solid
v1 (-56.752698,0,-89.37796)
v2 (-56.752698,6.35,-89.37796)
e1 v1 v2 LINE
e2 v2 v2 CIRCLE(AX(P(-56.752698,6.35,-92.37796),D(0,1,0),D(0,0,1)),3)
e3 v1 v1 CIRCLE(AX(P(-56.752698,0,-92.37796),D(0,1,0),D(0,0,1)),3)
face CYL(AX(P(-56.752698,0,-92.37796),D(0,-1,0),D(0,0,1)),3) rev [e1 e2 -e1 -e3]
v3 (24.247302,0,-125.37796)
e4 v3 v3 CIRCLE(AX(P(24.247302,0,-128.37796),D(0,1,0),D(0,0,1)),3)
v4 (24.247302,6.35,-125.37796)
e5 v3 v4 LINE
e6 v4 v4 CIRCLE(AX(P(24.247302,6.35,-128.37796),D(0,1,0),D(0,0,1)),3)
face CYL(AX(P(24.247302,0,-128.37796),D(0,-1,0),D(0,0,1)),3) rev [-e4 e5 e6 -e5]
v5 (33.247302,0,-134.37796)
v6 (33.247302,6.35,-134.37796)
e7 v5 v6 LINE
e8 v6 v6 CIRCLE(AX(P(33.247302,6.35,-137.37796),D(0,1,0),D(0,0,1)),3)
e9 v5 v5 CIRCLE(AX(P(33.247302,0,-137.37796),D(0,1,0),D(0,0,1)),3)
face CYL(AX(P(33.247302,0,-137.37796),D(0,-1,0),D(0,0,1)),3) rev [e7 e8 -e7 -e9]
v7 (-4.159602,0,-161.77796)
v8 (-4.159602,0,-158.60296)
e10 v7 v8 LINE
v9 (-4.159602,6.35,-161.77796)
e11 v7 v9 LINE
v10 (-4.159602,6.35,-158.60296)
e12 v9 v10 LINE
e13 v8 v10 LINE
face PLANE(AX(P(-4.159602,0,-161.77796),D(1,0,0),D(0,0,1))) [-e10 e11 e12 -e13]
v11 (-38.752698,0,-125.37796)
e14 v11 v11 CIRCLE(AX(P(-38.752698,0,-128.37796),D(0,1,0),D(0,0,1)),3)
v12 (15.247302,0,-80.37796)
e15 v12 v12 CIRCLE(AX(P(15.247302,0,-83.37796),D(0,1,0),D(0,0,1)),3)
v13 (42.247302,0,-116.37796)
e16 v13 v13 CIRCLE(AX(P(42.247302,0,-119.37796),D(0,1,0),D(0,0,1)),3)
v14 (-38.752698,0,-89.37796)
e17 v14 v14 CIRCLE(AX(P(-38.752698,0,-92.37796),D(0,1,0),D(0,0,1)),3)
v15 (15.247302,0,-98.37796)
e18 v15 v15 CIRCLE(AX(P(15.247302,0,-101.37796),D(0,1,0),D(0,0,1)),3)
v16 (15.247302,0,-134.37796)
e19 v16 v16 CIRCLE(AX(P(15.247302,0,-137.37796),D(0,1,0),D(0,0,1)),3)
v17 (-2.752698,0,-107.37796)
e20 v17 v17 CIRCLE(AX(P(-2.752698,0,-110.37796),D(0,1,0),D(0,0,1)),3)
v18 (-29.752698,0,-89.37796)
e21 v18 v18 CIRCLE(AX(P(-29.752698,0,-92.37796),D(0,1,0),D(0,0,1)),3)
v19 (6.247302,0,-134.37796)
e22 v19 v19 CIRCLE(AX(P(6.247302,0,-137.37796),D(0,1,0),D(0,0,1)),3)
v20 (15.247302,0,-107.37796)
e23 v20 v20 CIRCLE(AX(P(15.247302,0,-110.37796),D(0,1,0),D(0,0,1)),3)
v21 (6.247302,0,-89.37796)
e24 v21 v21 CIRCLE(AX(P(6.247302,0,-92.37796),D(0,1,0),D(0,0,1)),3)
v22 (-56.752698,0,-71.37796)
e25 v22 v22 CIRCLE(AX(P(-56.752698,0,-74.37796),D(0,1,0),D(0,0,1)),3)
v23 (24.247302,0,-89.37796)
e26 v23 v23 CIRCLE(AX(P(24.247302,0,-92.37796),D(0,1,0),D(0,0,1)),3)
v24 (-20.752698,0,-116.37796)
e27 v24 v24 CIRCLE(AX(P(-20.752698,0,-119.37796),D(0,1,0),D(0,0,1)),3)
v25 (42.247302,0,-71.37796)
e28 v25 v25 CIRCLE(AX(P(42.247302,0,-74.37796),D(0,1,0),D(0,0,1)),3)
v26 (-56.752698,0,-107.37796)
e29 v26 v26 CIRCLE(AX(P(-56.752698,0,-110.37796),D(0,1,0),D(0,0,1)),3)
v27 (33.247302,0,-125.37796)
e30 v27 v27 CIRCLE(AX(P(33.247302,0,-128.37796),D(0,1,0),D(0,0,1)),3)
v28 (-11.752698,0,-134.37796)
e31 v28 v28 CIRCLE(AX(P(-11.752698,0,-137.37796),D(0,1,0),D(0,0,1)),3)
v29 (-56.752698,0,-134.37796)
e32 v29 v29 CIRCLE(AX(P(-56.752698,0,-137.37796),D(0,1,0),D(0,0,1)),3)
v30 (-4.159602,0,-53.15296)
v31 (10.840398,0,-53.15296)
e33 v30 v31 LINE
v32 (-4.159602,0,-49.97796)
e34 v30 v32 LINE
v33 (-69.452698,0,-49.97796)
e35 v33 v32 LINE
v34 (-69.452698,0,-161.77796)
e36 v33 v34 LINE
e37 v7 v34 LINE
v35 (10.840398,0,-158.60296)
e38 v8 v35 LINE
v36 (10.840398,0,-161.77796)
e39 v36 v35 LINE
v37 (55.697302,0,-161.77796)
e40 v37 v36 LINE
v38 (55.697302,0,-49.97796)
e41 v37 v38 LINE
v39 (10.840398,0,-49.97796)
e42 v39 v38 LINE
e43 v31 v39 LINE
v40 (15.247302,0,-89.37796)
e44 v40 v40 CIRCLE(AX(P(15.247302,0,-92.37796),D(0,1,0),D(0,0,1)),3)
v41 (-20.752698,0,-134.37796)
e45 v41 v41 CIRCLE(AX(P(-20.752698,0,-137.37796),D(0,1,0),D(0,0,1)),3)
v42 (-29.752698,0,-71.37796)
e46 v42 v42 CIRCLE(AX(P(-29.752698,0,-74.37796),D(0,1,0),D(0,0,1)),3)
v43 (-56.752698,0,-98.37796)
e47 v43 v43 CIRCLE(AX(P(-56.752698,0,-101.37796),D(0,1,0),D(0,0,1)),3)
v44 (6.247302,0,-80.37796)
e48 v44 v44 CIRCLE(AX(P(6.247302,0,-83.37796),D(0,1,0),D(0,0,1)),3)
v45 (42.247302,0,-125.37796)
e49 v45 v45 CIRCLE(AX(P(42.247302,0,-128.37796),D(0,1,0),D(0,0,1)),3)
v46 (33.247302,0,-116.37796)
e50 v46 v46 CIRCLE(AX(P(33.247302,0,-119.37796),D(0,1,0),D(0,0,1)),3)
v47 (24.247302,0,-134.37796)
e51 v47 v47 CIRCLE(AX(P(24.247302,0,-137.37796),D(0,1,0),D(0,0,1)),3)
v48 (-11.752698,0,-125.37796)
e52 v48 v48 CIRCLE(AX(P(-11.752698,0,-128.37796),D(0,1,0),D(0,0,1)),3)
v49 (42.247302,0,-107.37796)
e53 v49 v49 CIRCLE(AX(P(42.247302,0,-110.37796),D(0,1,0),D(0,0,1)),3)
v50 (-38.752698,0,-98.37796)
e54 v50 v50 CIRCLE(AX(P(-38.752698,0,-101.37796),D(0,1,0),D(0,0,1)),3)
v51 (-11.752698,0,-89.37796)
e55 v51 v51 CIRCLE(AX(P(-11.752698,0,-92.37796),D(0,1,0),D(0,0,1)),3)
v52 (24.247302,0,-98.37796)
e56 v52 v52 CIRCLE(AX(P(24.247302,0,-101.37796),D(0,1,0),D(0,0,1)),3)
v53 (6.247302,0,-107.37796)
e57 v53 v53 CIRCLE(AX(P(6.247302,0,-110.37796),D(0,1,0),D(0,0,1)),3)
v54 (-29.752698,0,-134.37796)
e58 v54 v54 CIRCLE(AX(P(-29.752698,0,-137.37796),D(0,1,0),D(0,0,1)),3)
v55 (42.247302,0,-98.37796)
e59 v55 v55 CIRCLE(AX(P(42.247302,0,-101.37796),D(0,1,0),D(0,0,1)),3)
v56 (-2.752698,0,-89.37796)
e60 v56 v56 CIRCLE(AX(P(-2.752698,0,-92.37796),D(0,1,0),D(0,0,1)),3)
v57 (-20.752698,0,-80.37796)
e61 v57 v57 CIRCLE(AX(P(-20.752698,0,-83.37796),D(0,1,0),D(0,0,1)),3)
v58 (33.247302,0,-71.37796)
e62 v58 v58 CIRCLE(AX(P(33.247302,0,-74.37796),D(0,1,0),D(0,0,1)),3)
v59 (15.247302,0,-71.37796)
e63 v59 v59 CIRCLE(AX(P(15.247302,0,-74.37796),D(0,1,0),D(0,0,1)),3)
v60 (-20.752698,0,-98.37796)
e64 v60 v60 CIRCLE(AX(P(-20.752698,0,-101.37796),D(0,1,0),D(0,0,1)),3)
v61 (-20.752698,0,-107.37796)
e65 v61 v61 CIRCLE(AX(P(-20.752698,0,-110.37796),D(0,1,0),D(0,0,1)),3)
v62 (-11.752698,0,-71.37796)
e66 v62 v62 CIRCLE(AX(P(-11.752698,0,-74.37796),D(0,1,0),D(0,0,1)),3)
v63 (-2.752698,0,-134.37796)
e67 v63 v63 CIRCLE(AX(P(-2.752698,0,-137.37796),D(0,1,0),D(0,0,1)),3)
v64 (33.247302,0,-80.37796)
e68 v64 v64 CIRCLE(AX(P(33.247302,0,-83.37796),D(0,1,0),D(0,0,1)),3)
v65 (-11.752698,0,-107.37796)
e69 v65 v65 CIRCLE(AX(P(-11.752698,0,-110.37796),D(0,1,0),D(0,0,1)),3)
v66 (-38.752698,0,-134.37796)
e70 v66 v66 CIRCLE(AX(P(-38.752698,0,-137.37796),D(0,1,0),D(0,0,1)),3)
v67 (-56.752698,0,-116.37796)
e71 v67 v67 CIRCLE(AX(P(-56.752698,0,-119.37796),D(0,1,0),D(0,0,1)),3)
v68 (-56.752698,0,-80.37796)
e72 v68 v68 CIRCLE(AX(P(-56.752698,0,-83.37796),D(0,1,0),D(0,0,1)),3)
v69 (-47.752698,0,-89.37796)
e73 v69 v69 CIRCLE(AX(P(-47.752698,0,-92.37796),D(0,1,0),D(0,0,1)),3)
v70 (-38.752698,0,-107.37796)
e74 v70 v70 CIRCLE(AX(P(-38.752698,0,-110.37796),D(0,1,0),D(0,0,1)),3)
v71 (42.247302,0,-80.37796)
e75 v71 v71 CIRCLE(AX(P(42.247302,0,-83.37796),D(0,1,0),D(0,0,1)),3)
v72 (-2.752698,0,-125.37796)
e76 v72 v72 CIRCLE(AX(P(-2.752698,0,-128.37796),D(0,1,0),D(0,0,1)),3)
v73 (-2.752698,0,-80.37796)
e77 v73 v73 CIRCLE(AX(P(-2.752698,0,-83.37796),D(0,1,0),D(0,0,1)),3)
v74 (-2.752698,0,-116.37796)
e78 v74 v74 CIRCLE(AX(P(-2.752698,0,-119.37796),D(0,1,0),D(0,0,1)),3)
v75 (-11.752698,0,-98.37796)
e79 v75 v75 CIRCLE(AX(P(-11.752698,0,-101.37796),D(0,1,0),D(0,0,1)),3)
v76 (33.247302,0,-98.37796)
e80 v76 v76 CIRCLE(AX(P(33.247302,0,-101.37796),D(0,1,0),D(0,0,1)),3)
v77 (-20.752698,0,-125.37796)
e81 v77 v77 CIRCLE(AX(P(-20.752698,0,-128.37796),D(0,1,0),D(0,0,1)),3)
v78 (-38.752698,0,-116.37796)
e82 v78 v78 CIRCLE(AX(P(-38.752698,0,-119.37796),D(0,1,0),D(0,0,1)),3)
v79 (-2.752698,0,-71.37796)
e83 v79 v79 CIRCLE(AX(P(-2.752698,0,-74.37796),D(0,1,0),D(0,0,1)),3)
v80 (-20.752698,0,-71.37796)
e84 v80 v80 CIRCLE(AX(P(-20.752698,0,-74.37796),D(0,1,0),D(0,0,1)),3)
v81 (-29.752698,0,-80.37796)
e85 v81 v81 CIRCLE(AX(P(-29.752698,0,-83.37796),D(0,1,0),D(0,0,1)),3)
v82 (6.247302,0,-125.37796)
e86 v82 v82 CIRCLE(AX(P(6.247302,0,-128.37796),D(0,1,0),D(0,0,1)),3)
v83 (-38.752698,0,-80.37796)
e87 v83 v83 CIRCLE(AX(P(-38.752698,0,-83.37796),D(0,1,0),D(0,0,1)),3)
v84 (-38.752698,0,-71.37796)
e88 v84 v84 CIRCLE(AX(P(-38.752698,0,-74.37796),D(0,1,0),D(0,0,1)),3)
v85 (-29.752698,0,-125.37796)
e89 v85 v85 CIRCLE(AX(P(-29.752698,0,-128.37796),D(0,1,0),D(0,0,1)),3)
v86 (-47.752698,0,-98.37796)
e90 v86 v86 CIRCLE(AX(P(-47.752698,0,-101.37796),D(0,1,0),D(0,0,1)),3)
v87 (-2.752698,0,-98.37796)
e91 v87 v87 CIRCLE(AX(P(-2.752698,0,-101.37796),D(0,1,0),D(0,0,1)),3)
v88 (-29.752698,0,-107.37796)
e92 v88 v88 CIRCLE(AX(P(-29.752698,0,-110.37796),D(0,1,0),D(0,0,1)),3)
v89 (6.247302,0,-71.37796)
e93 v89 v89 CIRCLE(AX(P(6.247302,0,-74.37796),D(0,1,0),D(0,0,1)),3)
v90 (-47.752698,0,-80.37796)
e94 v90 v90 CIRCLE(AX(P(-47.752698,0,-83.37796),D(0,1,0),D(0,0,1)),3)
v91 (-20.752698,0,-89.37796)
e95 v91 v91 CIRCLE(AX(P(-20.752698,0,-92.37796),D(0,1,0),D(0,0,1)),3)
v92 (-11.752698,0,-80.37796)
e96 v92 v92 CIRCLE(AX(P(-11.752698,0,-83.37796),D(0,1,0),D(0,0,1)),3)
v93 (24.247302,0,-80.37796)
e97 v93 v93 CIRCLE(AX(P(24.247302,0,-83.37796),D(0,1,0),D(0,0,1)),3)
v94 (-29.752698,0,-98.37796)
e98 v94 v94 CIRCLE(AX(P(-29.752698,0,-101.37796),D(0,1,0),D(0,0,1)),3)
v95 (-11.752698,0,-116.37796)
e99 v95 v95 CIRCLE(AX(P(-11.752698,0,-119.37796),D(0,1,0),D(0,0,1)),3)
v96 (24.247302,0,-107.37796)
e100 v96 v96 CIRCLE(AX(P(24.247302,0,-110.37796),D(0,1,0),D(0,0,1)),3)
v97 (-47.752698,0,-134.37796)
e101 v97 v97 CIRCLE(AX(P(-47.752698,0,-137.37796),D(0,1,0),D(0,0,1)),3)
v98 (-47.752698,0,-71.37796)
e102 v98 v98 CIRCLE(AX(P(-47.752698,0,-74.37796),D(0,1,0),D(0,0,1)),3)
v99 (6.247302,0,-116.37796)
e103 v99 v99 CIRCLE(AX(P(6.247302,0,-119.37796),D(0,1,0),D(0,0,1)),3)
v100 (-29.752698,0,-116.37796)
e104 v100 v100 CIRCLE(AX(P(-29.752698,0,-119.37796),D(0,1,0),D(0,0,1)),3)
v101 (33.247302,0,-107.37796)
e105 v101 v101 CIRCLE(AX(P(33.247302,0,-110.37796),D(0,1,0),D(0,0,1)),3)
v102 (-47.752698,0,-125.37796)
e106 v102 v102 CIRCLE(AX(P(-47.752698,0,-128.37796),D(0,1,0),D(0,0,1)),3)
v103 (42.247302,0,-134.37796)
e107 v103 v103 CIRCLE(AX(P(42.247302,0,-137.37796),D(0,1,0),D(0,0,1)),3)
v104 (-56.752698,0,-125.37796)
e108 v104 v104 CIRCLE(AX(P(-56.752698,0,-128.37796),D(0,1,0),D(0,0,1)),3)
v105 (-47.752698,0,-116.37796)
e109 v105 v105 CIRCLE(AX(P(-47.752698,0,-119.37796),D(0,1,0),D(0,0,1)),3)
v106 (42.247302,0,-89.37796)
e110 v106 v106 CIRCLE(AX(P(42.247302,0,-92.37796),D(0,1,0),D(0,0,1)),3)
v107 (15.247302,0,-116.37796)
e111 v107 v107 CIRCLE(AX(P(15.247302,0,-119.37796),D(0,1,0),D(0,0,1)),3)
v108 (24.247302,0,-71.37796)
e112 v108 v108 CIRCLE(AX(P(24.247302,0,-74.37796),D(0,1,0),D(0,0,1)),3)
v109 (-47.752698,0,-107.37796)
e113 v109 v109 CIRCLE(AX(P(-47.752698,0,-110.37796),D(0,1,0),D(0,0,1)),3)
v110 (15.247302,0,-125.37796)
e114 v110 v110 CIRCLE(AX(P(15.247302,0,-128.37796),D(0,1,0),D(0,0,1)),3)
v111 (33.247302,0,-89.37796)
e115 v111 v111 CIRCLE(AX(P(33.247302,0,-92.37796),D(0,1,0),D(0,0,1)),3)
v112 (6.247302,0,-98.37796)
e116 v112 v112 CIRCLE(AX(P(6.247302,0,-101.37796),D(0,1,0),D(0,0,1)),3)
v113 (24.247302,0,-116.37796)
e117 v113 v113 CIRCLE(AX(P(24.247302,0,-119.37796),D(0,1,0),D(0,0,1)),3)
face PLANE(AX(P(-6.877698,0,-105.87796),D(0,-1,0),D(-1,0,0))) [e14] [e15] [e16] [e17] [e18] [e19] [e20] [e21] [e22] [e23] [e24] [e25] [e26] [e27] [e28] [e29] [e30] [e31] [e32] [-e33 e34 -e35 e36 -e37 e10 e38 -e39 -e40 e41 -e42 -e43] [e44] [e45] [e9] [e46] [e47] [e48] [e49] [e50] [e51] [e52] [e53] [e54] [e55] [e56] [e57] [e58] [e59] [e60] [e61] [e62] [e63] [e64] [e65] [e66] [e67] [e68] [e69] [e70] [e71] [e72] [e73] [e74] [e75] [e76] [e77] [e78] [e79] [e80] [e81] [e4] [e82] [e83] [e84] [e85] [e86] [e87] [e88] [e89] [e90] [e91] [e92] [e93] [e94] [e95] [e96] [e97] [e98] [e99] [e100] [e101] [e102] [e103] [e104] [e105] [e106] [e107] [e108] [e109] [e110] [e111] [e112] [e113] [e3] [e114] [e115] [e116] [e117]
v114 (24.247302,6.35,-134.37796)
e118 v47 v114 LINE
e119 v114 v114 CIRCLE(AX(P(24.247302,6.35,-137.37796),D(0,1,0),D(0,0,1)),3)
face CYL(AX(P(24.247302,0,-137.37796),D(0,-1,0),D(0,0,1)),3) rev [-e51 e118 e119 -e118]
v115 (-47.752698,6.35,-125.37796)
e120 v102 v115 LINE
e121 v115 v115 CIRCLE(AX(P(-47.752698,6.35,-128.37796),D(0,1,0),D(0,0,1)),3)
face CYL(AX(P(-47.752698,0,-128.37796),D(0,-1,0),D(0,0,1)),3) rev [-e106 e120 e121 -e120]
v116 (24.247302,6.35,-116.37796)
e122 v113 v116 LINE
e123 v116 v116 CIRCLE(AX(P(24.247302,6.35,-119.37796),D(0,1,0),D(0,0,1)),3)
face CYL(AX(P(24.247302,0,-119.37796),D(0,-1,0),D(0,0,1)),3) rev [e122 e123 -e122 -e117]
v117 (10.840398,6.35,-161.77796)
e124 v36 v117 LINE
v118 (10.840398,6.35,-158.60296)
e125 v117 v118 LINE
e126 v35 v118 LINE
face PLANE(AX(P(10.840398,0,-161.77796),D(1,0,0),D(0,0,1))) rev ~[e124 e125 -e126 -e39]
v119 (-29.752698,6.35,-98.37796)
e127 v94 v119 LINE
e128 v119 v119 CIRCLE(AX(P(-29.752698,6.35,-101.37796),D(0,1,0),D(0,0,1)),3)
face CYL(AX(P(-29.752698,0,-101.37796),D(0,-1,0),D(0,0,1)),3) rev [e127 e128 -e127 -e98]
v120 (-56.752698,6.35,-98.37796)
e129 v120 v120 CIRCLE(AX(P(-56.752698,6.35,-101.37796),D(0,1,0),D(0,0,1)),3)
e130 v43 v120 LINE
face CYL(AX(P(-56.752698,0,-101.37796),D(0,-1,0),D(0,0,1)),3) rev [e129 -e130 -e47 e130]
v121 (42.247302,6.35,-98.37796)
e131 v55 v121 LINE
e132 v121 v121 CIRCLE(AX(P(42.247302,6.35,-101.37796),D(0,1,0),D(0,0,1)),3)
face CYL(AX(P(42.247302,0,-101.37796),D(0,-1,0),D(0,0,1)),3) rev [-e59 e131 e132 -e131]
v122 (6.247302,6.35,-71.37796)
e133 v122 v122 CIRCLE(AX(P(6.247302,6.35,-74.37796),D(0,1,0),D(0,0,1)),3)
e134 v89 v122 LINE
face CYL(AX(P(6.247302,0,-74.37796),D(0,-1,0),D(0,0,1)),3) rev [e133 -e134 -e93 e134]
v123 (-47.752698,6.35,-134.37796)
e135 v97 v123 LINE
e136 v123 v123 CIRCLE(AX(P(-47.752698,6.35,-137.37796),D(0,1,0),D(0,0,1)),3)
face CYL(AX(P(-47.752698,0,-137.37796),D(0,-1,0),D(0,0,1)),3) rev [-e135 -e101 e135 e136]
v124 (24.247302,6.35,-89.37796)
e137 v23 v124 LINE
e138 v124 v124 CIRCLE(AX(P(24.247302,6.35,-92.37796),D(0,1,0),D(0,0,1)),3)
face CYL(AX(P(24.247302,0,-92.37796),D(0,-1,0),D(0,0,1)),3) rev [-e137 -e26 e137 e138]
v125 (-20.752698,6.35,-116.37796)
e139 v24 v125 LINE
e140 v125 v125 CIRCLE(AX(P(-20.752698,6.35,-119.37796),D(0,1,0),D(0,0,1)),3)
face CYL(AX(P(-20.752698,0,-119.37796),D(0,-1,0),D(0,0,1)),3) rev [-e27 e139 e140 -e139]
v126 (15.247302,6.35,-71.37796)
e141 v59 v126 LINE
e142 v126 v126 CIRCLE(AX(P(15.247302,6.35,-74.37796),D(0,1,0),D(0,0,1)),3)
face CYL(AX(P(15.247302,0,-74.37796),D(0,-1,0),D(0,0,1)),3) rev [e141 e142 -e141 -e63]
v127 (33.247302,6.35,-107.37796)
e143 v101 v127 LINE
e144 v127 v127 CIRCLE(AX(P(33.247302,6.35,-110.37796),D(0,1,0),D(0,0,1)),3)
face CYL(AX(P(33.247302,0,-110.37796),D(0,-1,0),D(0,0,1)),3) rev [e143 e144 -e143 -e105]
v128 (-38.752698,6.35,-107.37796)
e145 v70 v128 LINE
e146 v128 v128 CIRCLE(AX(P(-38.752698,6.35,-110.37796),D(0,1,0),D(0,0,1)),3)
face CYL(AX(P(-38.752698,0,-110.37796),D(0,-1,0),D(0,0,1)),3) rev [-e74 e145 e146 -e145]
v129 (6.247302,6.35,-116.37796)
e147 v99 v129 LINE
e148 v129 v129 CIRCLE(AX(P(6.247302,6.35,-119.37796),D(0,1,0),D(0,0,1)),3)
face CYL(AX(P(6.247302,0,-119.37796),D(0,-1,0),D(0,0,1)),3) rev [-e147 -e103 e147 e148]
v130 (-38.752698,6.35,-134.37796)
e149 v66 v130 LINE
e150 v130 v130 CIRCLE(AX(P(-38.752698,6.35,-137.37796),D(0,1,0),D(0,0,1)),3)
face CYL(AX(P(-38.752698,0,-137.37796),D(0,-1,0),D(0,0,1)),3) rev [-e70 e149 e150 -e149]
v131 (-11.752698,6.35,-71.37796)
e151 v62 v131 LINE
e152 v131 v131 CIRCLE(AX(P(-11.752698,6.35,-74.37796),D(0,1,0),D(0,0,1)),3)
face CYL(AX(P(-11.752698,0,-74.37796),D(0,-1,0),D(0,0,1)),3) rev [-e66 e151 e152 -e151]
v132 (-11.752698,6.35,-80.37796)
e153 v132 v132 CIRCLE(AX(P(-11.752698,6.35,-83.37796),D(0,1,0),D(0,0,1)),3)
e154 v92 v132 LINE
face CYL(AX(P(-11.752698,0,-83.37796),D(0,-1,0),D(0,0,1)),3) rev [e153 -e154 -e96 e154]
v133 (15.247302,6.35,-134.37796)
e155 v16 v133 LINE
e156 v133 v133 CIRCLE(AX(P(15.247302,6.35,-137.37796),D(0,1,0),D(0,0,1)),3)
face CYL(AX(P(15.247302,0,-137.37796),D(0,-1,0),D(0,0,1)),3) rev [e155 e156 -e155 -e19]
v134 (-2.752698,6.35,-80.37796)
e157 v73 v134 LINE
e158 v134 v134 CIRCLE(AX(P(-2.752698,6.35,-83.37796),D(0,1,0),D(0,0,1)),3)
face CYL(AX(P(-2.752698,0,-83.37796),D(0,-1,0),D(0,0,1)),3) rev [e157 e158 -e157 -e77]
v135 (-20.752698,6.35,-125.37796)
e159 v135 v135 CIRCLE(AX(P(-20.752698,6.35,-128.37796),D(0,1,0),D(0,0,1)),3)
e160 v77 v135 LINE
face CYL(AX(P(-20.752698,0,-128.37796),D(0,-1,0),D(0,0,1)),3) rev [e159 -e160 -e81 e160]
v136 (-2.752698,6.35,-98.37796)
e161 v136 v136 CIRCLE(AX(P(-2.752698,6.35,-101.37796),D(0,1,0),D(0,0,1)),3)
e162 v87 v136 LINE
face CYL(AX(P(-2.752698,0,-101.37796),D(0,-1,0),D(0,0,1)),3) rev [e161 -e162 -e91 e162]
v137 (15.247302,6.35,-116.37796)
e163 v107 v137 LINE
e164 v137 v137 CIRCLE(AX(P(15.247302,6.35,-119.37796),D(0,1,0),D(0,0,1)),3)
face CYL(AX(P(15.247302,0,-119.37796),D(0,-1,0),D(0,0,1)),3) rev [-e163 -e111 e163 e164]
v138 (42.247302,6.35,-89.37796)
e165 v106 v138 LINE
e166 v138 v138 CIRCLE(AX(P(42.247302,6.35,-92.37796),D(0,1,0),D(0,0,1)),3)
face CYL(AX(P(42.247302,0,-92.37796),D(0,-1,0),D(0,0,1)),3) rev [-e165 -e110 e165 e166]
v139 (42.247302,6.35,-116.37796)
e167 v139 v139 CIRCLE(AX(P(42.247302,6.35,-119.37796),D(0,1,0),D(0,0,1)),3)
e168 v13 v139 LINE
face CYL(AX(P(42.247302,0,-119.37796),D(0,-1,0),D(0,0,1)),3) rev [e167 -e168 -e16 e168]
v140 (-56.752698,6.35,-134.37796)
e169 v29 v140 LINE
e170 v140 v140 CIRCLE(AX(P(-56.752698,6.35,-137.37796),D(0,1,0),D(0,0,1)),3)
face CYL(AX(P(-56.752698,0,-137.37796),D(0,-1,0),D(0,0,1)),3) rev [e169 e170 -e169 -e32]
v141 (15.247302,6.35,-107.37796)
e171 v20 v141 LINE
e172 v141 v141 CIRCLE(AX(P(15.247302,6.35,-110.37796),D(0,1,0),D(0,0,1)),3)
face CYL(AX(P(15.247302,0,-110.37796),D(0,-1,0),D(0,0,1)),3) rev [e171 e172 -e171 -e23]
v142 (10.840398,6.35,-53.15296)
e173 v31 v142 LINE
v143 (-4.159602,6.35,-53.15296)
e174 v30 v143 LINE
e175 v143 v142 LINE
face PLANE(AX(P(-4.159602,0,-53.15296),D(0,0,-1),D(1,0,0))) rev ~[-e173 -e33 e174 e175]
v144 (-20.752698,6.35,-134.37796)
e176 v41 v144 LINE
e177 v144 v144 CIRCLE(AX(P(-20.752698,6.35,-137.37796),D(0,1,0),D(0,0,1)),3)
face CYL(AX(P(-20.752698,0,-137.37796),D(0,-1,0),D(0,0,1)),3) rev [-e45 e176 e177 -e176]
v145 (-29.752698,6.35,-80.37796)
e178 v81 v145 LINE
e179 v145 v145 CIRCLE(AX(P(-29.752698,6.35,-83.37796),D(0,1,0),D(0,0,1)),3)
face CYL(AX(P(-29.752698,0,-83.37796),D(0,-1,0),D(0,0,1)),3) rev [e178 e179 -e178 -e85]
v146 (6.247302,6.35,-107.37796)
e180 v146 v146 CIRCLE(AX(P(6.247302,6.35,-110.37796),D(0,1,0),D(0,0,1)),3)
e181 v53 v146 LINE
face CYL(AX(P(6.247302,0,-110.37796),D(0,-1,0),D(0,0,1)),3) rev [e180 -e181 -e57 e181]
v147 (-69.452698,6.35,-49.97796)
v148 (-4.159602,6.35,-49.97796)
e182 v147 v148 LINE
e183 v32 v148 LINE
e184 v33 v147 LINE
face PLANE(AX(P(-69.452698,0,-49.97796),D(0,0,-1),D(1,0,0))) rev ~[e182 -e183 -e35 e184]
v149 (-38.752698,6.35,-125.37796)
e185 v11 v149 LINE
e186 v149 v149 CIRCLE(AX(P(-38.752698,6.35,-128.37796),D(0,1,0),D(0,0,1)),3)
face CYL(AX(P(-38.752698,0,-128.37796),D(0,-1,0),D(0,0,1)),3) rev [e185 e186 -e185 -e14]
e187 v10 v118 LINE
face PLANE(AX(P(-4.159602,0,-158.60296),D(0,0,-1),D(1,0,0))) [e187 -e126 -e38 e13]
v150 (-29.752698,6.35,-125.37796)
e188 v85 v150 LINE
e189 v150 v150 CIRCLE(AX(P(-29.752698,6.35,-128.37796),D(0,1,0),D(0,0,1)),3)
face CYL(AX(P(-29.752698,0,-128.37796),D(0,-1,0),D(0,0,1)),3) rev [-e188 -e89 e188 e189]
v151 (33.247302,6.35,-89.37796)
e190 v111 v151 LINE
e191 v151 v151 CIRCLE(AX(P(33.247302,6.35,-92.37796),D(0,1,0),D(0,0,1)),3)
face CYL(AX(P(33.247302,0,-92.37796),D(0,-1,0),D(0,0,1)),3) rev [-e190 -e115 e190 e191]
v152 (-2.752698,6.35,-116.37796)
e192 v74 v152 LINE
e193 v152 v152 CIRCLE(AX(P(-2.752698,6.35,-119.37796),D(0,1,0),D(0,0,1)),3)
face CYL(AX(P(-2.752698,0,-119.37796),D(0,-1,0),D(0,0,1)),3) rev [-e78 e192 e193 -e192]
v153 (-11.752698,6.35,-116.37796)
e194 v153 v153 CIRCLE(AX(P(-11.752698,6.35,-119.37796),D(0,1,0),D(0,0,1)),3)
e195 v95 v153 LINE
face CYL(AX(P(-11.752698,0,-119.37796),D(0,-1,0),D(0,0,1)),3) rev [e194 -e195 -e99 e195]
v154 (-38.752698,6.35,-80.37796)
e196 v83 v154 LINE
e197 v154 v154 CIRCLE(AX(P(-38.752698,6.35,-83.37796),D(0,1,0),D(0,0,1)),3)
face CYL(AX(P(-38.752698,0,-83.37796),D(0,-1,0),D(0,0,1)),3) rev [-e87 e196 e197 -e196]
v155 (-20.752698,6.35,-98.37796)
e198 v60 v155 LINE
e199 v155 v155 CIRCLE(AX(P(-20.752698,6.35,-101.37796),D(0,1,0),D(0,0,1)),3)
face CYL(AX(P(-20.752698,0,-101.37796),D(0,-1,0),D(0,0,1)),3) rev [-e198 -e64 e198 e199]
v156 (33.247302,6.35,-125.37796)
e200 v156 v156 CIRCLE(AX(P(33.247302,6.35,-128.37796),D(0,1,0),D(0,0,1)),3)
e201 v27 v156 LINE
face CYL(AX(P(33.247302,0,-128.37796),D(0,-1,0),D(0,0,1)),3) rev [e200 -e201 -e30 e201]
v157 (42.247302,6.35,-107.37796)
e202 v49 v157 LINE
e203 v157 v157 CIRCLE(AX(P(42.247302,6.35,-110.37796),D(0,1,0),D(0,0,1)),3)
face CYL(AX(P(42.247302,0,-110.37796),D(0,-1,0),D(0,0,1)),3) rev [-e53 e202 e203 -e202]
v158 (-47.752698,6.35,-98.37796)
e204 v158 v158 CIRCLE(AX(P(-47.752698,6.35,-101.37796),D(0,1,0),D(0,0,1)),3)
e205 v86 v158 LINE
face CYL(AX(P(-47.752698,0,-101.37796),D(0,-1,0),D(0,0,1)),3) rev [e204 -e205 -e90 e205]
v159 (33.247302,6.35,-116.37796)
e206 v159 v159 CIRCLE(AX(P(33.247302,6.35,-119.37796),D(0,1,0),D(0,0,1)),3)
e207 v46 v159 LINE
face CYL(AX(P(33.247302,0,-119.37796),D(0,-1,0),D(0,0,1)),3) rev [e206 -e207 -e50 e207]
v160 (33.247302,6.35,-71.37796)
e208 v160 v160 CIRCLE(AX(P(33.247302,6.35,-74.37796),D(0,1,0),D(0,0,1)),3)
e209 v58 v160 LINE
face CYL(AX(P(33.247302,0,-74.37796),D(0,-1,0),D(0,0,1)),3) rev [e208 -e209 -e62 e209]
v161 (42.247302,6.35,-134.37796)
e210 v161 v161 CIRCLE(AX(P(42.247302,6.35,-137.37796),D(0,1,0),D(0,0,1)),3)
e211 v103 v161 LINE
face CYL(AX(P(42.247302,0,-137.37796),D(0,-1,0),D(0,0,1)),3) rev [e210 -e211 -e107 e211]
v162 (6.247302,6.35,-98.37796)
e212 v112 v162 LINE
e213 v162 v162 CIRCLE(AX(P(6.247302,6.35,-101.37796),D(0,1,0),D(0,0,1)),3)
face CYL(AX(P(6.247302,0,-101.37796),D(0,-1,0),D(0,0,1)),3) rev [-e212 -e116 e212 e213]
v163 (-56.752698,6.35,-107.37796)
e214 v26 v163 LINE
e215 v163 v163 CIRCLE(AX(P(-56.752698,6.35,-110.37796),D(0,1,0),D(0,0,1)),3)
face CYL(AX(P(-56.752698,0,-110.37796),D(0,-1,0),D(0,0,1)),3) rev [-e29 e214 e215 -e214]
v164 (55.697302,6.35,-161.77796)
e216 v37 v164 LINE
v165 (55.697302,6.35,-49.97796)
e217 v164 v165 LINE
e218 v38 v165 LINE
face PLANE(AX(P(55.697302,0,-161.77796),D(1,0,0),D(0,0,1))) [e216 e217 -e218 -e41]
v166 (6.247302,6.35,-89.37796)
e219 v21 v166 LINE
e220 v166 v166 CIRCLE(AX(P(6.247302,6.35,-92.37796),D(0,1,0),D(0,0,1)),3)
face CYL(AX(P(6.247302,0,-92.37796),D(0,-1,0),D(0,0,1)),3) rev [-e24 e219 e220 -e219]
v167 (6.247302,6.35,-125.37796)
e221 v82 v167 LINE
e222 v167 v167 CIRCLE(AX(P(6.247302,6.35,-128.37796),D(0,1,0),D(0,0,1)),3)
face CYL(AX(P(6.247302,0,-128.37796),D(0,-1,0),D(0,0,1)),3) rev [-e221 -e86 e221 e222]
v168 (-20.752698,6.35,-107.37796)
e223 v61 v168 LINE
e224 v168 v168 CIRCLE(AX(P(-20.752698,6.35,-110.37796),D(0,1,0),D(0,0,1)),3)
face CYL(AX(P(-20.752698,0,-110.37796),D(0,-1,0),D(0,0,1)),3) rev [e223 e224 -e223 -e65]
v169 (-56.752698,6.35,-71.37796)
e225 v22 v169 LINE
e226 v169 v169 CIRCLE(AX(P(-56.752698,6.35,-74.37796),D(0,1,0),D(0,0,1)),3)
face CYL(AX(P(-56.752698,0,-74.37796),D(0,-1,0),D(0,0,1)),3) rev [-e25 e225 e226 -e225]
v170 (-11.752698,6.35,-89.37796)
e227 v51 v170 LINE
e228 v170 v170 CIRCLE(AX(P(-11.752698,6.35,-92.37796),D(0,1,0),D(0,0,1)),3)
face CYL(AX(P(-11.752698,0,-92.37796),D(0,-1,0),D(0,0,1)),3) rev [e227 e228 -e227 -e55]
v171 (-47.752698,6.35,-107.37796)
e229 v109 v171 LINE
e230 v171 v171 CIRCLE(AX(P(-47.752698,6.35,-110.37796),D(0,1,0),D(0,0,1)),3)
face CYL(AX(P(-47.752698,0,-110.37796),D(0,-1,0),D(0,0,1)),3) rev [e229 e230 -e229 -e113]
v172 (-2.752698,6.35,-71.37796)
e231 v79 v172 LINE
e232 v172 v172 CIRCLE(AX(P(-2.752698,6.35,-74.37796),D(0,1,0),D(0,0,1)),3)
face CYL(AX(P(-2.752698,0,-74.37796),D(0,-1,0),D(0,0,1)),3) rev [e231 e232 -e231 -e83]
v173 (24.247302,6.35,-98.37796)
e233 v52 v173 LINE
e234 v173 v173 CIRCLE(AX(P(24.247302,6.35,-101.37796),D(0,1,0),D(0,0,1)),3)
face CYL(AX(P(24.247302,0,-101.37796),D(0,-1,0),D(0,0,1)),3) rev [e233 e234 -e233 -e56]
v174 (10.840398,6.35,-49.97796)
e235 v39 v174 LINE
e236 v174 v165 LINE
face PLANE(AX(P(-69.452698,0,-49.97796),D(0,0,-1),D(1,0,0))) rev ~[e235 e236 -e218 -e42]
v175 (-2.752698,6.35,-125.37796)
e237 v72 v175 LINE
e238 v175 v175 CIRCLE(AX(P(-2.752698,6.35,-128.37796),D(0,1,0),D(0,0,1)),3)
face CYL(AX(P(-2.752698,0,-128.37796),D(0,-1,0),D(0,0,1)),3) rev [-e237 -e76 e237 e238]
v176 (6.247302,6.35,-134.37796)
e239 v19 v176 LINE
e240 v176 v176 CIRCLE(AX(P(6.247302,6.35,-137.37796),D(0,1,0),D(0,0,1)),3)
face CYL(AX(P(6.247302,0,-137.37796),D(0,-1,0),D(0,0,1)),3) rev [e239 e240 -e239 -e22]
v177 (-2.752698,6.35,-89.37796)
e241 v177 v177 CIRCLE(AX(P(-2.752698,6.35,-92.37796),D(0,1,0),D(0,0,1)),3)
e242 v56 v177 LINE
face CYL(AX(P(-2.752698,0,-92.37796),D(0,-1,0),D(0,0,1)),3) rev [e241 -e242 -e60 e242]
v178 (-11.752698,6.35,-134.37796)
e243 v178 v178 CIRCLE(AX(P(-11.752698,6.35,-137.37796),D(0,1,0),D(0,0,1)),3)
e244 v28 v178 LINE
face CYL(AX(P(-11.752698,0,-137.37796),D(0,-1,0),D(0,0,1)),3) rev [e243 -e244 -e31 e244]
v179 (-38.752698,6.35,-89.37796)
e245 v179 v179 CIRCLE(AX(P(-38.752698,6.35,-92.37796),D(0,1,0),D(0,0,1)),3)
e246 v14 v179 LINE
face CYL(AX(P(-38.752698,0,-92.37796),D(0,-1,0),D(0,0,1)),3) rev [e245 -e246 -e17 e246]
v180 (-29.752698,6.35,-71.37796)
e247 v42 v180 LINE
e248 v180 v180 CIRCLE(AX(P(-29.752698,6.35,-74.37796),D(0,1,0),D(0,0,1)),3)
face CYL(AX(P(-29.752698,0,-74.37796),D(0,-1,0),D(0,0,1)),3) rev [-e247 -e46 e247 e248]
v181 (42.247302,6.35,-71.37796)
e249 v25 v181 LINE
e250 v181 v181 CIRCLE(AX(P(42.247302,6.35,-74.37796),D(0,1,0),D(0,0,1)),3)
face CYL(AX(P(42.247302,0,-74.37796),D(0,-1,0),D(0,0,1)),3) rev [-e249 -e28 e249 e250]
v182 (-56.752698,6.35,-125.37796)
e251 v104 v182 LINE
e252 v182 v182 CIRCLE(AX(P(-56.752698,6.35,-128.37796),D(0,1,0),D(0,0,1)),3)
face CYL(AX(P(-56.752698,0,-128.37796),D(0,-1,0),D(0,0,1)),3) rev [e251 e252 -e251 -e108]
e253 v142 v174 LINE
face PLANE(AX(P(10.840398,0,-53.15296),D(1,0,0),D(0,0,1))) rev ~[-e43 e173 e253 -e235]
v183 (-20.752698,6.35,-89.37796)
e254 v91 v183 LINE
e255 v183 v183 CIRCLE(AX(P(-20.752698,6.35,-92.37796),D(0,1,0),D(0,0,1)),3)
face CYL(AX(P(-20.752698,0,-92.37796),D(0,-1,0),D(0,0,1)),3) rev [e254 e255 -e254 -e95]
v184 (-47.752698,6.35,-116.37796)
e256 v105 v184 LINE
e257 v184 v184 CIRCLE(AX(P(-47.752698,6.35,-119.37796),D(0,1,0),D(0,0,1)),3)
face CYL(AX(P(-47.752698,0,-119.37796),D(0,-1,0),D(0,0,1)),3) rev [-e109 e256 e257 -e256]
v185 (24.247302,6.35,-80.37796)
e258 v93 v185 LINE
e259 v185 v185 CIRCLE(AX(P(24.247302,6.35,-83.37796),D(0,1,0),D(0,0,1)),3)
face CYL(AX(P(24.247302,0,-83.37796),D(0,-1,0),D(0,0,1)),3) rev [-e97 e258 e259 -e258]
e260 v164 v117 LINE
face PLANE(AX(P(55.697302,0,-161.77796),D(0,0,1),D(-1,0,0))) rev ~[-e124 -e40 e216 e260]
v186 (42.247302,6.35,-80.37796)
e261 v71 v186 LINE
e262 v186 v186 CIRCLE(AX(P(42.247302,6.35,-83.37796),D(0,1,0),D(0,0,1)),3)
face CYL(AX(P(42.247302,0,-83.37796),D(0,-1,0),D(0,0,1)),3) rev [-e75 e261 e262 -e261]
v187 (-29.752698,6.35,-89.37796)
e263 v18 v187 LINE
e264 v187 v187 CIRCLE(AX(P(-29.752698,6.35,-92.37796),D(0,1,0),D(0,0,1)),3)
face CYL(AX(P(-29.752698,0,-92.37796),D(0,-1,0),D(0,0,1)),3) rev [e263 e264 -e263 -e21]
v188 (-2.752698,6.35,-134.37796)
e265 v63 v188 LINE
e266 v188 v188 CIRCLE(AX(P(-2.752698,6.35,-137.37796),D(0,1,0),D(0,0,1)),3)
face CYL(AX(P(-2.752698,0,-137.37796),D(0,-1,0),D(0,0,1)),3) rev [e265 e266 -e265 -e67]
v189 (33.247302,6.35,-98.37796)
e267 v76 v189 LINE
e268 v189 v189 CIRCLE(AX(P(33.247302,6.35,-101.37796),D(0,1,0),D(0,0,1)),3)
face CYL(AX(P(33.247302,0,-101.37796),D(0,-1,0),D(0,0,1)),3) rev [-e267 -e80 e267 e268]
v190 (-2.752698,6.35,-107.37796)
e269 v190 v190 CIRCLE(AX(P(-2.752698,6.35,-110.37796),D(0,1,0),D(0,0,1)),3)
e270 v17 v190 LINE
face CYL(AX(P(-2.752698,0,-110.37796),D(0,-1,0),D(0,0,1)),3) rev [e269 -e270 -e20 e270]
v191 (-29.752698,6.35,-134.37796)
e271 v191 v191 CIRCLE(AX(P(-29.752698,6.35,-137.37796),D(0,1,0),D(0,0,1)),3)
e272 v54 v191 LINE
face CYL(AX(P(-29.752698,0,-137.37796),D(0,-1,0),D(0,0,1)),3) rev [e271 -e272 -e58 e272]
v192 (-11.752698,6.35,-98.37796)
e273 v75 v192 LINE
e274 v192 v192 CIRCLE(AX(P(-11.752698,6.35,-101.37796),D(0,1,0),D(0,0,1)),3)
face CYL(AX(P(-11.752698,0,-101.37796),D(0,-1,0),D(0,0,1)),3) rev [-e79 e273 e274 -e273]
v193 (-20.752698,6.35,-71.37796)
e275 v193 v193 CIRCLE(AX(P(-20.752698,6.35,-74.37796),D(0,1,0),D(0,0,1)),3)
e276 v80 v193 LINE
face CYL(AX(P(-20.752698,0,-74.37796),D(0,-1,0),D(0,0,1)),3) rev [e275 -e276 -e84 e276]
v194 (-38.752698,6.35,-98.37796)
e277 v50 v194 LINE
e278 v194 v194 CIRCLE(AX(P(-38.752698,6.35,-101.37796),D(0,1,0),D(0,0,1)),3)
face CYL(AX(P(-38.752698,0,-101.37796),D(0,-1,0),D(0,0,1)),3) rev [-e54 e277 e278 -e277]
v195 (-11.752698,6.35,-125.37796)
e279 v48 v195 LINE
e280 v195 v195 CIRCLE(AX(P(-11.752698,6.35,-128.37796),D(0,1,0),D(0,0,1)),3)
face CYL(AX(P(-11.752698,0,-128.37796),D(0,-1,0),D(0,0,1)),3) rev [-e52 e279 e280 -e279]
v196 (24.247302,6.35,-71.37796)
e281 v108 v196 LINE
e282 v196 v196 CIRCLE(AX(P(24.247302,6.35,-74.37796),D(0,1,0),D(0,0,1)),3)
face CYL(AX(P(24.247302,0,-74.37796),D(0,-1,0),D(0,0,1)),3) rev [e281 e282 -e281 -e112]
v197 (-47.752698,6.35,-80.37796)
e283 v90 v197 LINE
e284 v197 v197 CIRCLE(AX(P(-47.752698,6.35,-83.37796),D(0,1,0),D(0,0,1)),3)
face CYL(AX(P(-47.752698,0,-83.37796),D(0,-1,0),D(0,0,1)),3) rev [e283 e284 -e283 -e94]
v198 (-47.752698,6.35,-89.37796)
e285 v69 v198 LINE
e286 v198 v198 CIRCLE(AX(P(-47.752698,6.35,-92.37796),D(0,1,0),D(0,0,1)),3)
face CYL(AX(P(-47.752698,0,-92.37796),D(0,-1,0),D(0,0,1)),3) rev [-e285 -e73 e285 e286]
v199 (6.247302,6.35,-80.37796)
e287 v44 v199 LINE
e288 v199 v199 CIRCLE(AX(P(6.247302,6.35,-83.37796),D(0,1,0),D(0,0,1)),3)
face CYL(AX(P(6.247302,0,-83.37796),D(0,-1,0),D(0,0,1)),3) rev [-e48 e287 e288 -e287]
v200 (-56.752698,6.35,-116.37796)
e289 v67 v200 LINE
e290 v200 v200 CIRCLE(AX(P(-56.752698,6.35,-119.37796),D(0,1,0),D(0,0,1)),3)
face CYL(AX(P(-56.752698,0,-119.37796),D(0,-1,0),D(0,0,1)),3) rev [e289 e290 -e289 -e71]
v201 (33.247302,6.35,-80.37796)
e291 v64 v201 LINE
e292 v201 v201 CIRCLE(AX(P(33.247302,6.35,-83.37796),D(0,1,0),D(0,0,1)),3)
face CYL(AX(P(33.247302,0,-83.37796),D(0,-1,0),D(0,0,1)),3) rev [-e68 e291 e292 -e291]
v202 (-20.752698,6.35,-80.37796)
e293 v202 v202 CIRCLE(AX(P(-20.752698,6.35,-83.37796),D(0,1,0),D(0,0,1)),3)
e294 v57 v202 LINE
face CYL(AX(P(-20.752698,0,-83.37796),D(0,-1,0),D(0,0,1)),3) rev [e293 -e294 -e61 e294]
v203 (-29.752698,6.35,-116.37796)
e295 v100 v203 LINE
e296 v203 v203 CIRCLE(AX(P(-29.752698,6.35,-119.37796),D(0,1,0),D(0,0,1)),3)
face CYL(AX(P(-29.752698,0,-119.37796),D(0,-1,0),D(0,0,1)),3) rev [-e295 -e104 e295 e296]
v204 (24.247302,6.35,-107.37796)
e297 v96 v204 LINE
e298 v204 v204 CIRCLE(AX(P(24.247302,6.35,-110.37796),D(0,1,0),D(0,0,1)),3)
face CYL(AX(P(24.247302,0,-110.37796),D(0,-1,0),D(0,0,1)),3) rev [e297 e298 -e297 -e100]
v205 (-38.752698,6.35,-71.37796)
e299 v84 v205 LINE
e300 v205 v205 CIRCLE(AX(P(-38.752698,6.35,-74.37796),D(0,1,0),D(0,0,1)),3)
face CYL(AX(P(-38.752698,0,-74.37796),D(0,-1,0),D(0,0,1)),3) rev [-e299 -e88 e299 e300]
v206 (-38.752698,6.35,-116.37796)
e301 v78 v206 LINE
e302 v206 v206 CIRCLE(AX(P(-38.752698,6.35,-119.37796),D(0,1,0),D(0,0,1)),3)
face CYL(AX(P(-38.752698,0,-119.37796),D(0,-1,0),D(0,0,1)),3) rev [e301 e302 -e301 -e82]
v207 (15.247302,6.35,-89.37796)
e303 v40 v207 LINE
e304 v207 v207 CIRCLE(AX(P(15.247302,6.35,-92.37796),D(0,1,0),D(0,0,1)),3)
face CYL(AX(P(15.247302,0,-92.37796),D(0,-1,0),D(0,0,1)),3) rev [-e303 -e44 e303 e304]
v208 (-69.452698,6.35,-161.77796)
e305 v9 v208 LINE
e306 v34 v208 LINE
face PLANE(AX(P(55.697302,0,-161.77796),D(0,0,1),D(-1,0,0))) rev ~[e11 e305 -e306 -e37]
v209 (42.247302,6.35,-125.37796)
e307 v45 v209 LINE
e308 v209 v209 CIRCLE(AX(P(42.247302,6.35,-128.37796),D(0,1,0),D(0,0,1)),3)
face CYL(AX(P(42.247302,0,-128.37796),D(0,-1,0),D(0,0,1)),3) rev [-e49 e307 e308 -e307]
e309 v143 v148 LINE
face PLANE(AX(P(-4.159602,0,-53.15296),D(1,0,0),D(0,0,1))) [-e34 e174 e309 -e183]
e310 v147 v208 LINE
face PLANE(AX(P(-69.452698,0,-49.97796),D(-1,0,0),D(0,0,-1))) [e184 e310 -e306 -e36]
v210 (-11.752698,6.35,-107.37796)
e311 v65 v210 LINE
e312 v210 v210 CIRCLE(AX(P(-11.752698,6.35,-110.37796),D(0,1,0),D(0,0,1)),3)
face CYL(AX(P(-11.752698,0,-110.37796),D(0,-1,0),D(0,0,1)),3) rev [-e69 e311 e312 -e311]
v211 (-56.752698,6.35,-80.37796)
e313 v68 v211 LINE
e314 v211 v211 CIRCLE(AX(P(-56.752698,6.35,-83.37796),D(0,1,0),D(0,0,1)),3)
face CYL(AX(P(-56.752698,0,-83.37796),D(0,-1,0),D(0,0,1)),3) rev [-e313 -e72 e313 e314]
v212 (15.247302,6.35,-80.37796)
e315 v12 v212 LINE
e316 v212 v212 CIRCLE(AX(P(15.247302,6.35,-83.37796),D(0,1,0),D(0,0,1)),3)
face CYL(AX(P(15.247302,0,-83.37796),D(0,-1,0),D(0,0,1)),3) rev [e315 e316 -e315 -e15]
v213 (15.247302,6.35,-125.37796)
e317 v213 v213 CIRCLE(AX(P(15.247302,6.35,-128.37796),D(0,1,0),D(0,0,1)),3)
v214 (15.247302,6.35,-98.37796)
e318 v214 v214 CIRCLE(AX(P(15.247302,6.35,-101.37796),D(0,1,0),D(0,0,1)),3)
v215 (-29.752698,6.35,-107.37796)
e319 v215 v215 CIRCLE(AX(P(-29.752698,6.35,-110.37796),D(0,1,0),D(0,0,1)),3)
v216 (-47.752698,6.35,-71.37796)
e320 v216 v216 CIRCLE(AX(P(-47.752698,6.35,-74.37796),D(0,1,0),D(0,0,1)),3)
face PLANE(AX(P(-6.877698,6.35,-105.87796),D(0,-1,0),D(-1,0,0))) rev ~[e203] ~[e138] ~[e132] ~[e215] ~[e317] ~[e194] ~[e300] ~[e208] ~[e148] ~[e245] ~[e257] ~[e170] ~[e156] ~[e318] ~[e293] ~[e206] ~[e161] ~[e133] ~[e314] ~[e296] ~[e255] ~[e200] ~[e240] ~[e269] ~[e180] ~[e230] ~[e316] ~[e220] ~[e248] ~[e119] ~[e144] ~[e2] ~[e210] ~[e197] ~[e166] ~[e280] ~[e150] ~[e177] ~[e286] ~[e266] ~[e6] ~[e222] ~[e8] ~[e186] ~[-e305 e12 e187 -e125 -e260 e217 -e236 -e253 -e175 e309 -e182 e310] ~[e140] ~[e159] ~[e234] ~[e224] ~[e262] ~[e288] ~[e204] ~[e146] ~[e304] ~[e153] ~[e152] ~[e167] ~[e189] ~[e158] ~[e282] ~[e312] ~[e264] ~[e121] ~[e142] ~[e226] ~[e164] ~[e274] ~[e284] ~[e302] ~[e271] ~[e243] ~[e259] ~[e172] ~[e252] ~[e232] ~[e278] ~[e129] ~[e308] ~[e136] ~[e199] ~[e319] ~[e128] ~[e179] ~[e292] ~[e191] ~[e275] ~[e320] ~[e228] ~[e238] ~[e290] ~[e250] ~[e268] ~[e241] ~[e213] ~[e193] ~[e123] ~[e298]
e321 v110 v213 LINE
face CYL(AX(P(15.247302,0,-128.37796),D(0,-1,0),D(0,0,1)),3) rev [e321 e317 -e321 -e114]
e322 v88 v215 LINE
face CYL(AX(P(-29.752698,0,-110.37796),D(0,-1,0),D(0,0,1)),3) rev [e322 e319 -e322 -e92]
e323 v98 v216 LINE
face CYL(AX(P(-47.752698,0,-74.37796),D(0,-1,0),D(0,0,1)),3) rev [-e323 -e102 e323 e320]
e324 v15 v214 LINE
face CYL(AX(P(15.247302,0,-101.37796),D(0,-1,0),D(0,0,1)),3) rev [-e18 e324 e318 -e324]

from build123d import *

# Parameters (mm, degrees)
SKETCH1_R           = 3
BOSS_EXTRUDE1_DEPTH = 6.35
SKETCH4_W           = 15
SKETCH4_H           = 3.175
CUT_EXTRUDE1_DEPTH  = 177.170678617


with BuildPart() as part:
    # Sketch1 → Boss-Extrude1 (new body)
    with BuildSketch(Plane(origin=(0, 0, 0), x_dir=(1, 0, 0), z_dir=(0, 1, 0))):
        Polygon((-69.296780506, 161.777959836), (55.697302316, 161.777959836), (55.697302316, 49.977959836), (51.130375465, 49.977959836), (3.340397506, 49.977959836), (-69.452697684, 49.977959836), (-69.452697684, 161.777959836), align=None)
        with Locations(Location((-56.752697684, 137.377959836, 0), (0, 0, 270))):
            Circle(SKETCH1_R, mode=Mode.SUBTRACT)
        with Locations(Location((-47.752697684, 137.377959836, 0), (0, 0, 270))):
            Circle(SKETCH1_R, mode=Mode.SUBTRACT)
        with Locations(Location((-38.752697684, 137.377959836, 0), (0, 0, 270))):
            Circle(SKETCH1_R, mode=Mode.SUBTRACT)
        with Locations(Location((-29.752697684, 137.377959836, 0), (0, 0, 270))):
            Circle(SKETCH1_R, mode=Mode.SUBTRACT)
        with Locations(Location((-20.752697684, 137.377959836, 0), (0, 0, 270))):
            Circle(SKETCH1_R, mode=Mode.SUBTRACT)
        with Locations(Location((-11.752697684, 137.377959836, 0), (0, 0, 270))):
            Circle(SKETCH1_R, mode=Mode.SUBTRACT)
        with Locations(Location((-2.752697684, 137.377959836, 0), (0, 0, 270))):
            Circle(SKETCH1_R, mode=Mode.SUBTRACT)
        with Locations(Location((6.247302316, 137.377959836, 0), (0, 0, 270))):
            Circle(SKETCH1_R, mode=Mode.SUBTRACT)
        with Locations(Location((15.247302316, 137.377959836, 0), (0, 0, 270))):
            Circle(SKETCH1_R, mode=Mode.SUBTRACT)
        with Locations(Location((24.247302316, 137.377959836, 0), (0, 0, 270))):
            Circle(SKETCH1_R, mode=Mode.SUBTRACT)
        with Locations(Location((33.247302316, 137.377959836, 0), (0, 0, 270))):
            Circle(SKETCH1_R, mode=Mode.SUBTRACT)
        with Locations(Location((42.247302316, 137.377959836, 0), (0, 0, 270))):
            Circle(SKETCH1_R, mode=Mode.SUBTRACT)
        with Locations(Location((-47.752697684, 128.377959836, 0), (0, 0, 270))):
            Circle(SKETCH1_R, mode=Mode.SUBTRACT)
        with Locations(Location((-38.752697684, 128.377959836, 0), (0, 0, 270))):
            Circle(SKETCH1_R, mode=Mode.SUBTRACT)
        with Locations(Location((-29.752697684, 128.377959836, 0), (0, 0, 270))):
            Circle(SKETCH1_R, mode=Mode.SUBTRACT)
        with Locations(Location((-20.752697684, 128.377959836, 0), (0, 0, 270))):
            Circle(SKETCH1_R, mode=Mode.SUBTRACT)
        with Locations(Location((-11.752697684, 128.377959836, 0), (0, 0, 270))):
            Circle(SKETCH1_R, mode=Mode.SUBTRACT)
        with Locations(Location((-2.752697684, 128.377959836, 0), (0, 0, 270))):
            Circle(SKETCH1_R, mode=Mode.SUBTRACT)
        with Locations(Location((6.247302316, 128.377959836, 0), (0, 0, 270))):
            Circle(SKETCH1_R, mode=Mode.SUBTRACT)
        with Locations(Location((15.247302316, 128.377959836, 0), (0, 0, 270))):
            Circle(SKETCH1_R, mode=Mode.SUBTRACT)
        with Locations(Location((24.247302316, 128.377959836, 0), (0, 0, 270))):
            Circle(SKETCH1_R, mode=Mode.SUBTRACT)
        with Locations(Location((33.247302316, 128.377959836, 0), (0, 0, 270))):
            Circle(SKETCH1_R, mode=Mode.SUBTRACT)
        with Locations(Location((42.247302316, 128.377959836, 0), (0, 0, 270))):
            Circle(SKETCH1_R, mode=Mode.SUBTRACT)
        with Locations(Location((-47.752697684, 119.377959836, 0), (0, 0, 270))):
            Circle(SKETCH1_R, mode=Mode.SUBTRACT)
        with Locations(Location((-38.752697684, 119.377959836, 0), (0, 0, 270))):
            Circle(SKETCH1_R, mode=Mode.SUBTRACT)
        with Locations(Location((-29.752697684, 119.377959836, 0), (0, 0, 270))):
            Circle(SKETCH1_R, mode=Mode.SUBTRACT)
        with Locations(Location((-20.752697684, 119.377959836, 0), (0, 0, 270))):
            Circle(SKETCH1_R, mode=Mode.SUBTRACT)
        with Locations(Location((-11.752697684, 119.377959836, 0), (0, 0, 270))):
            Circle(SKETCH1_R, mode=Mode.SUBTRACT)
        with Locations(Location((-2.752697684, 119.377959836, 0), (0, 0, 270))):
            Circle(SKETCH1_R, mode=Mode.SUBTRACT)
        with Locations(Location((6.247302316, 119.377959836, 0), (0, 0, 270))):
            Circle(SKETCH1_R, mode=Mode.SUBTRACT)
        with Locations(Location((15.247302316, 119.377959836, 0), (0, 0, 270))):
            Circle(SKETCH1_R, mode=Mode.SUBTRACT)
        with Locations(Location((24.247302316, 119.377959836, 0), (0, 0, 270))):
            Circle(SKETCH1_R, mode=Mode.SUBTRACT)
        with Locations(Location((33.247302316, 119.377959836, 0), (0, 0, 270))):
            Circle(SKETCH1_R, mode=Mode.SUBTRACT)
        with Locations(Location((42.247302316, 119.377959836, 0), (0, 0, 270))):
            Circle(SKETCH1_R, mode=Mode.SUBTRACT)
        with Locations(Location((-47.752697684, 110.377959836, 0), (0, 0, 270))):
            Circle(SKETCH1_R, mode=Mode.SUBTRACT)
        with Locations(Location((-38.752697684, 110.377959836, 0), (0, 0, 270))):
            Circle(SKETCH1_R, mode=Mode.SUBTRACT)
        with Locations(Location((-29.752697684, 110.377959836, 0), (0, 0, 270))):
            Circle(SKETCH1_R, mode=Mode.SUBTRACT)
        with Locations(Location((-20.752697684, 110.377959836, 0), (0, 0, 270))):
            Circle(SKETCH1_R, mode=Mode.SUBTRACT)
        with Locations(Location((-11.752697684, 110.377959836, 0), (0, 0, 270))):
            Circle(SKETCH1_R, mode=Mode.SUBTRACT)
        with Locations(Location((-2.752697684, 110.377959836, 0), (0, 0, 270))):
            Circle(SKETCH1_R, mode=Mode.SUBTRACT)
        with Locations(Location((6.247302316, 110.377959836, 0), (0, 0, 270))):
            Circle(SKETCH1_R, mode=Mode.SUBTRACT)
        with Locations(Location((15.247302316, 110.377959836, 0), (0, 0, 270))):
            Circle(SKETCH1_R, mode=Mode.SUBTRACT)
        with Locations(Location((24.247302316, 110.377959836, 0), (0, 0, 270))):
            Circle(SKETCH1_R, mode=Mode.SUBTRACT)
        with Locations(Location((33.247302316, 110.377959836, 0), (0, 0, 270))):
            Circle(SKETCH1_R, mode=Mode.SUBTRACT)
        with Locations(Location((42.247302316, 110.377959836, 0), (0, 0, 270))):
            Circle(SKETCH1_R, mode=Mode.SUBTRACT)
        with Locations(Location((-47.752697684, 101.377959836, 0), (0, 0, 270))):
            Circle(SKETCH1_R, mode=Mode.SUBTRACT)
        with Locations(Location((-38.752697684, 101.377959836, 0), (0, 0, 270))):
            Circle(SKETCH1_R, mode=Mode.SUBTRACT)
        with Locations(Location((-29.752697684, 101.377959836, 0), (0, 0, 270))):
            Circle(SKETCH1_R, mode=Mode.SUBTRACT)
        with Locations(Location((-20.752697684, 101.377959836, 0), (0, 0, 270))):
            Circle(SKETCH1_R, mode=Mode.SUBTRACT)
        with Locations(Location((-11.752697684, 101.377959836, 0), (0, 0, 270))):
            Circle(SKETCH1_R, mode=Mode.SUBTRACT)
        with Locations(Location((-2.752697684, 101.377959836, 0), (0, 0, 270))):
            Circle(SKETCH1_R, mode=Mode.SUBTRACT)
        with Locations(Location((6.247302316, 101.377959836, 0), (0, 0, 270))):
            Circle(SKETCH1_R, mode=Mode.SUBTRACT)
        with Locations(Location((15.247302316, 101.377959836, 0), (0, 0, 270))):
            Circle(SKETCH1_R, mode=Mode.SUBTRACT)
        with Locations(Location((24.247302316, 101.377959836, 0), (0, 0, 270))):
            Circle(SKETCH1_R, mode=Mode.SUBTRACT)
        with Locations(Location((33.247302316, 101.377959836, 0), (0, 0, 270))):
            Circle(SKETCH1_R, mode=Mode.SUBTRACT)
        with Locations(Location((42.247302316, 101.377959836, 0), (0, 0, 270))):
            Circle(SKETCH1_R, mode=Mode.SUBTRACT)
        with Locations(Location((-47.752697684, 92.377959836, 0), (0, 0, 270))):
            Circle(SKETCH1_R, mode=Mode.SUBTRACT)
        with Locations(Location((-38.752697684, 92.377959836, 0), (0, 0, 270))):
            Circle(SKETCH1_R, mode=Mode.SUBTRACT)
        with Locations(Location((-29.752697684, 92.377959836, 0), (0, 0, 270))):
            Circle(SKETCH1_R, mode=Mode.SUBTRACT)
        with Locations(Location((-20.752697684, 92.377959836, 0), (0, 0, 270))):
            Circle(SKETCH1_R, mode=Mode.SUBTRACT)
        with Locations(Location((-11.752697684, 92.377959836, 0), (0, 0, 270))):
            Circle(SKETCH1_R, mode=Mode.SUBTRACT)
        with Locations(Location((-2.752697684, 92.377959836, 0), (0, 0, 270))):
            Circle(SKETCH1_R, mode=Mode.SUBTRACT)
        with Locations(Location((6.247302316, 92.377959836, 0), (0, 0, 270))):
            Circle(SKETCH1_R, mode=Mode.SUBTRACT)
        with Locations(Location((15.247302316, 92.377959836, 0), (0, 0, 270))):
            Circle(SKETCH1_R, mode=Mode.SUBTRACT)
        with Locations(Location((24.247302316, 92.377959836, 0), (0, 0, 270))):
            Circle(SKETCH1_R, mode=Mode.SUBTRACT)
        with Locations(Location((33.247302316, 92.377959836, 0), (0, 0, 270))):
            Circle(SKETCH1_R, mode=Mode.SUBTRACT)
        with Locations(Location((42.247302316, 92.377959836, 0), (0, 0, 270))):
            Circle(SKETCH1_R, mode=Mode.SUBTRACT)
        with Locations(Location((-47.752697684, 83.377959836, 0), (0, 0, 270))):
            Circle(SKETCH1_R, mode=Mode.SUBTRACT)
        with Locations(Location((-38.752697684, 83.377959836, 0), (0, 0, 270))):
            Circle(SKETCH1_R, mode=Mode.SUBTRACT)
        with Locations(Location((-29.752697684, 83.377959836, 0), (0, 0, 270))):
            Circle(SKETCH1_R, mode=Mode.SUBTRACT)
        with Locations(Location((-20.752697684, 83.377959836, 0), (0, 0, 270))):
            Circle(SKETCH1_R, mode=Mode.SUBTRACT)
        with Locations(Location((-11.752697684, 83.377959836, 0), (0, 0, 270))):
            Circle(SKETCH1_R, mode=Mode.SUBTRACT)
        with Locations(Location((-2.752697684, 83.377959836, 0), (0, 0, 270))):
            Circle(SKETCH1_R, mode=Mode.SUBTRACT)
        with Locations(Location((6.247302316, 83.377959836, 0), (0, 0, 270))):
            Circle(SKETCH1_R, mode=Mode.SUBTRACT)
        with Locations(Location((15.247302316, 83.377959836, 0), (0, 0, 270))):
            Circle(SKETCH1_R, mode=Mode.SUBTRACT)
        with Locations(Location((24.247302316, 83.377959836, 0), (0, 0, 270))):
            Circle(SKETCH1_R, mode=Mode.SUBTRACT)
        with Locations(Location((33.247302316, 83.377959836, 0), (0, 0, 270))):
            Circle(SKETCH1_R, mode=Mode.SUBTRACT)
        with Locations(Location((42.247302316, 83.377959836, 0), (0, 0, 270))):
            Circle(SKETCH1_R, mode=Mode.SUBTRACT)
        with Locations(Location((-47.752697684, 74.377959836, 0), (0, 0, 270))):
            Circle(SKETCH1_R, mode=Mode.SUBTRACT)
        with Locations(Location((-38.752697684, 74.377959836, 0), (0, 0, 270))):
            Circle(SKETCH1_R, mode=Mode.SUBTRACT)
        with Locations(Location((-29.752697684, 74.377959836, 0), (0, 0, 270))):
            Circle(SKETCH1_R, mode=Mode.SUBTRACT)
        with Locations(Location((-20.752697684, 74.377959836, 0), (0, 0, 270))):
            Circle(SKETCH1_R, mode=Mode.SUBTRACT)
        with Locations(Location((-11.752697684, 74.377959836, 0), (0, 0, 270))):
            Circle(SKETCH1_R, mode=Mode.SUBTRACT)
        with Locations(Location((-2.752697684, 74.377959836, 0), (0, 0, 270))):
            Circle(SKETCH1_R, mode=Mode.SUBTRACT)
        with Locations(Location((6.247302316, 74.377959836, 0), (0, 0, 270))):
            Circle(SKETCH1_R, mode=Mode.SUBTRACT)
        with Locations(Location((15.247302316, 74.377959836, 0), (0, 0, 270))):
            Circle(SKETCH1_R, mode=Mode.SUBTRACT)
        with Locations(Location((24.247302316, 74.377959836, 0), (0, 0, 270))):
            Circle(SKETCH1_R, mode=Mode.SUBTRACT)
        with Locations(Location((33.247302316, 74.377959836, 0), (0, 0, 270))):
            Circle(SKETCH1_R, mode=Mode.SUBTRACT)
        with Locations(Location((42.247302316, 74.377959836, 0), (0, 0, 270))):
            Circle(SKETCH1_R, mode=Mode.SUBTRACT)
        with Locations(Location((-56.752697684, 128.377959836, 0), (0, 0, 270))):
            Circle(SKETCH1_R, mode=Mode.SUBTRACT)
        with Locations(Location((-56.752697684, 119.377959836, 0), (0, 0, 270))):
            Circle(SKETCH1_R, mode=Mode.SUBTRACT)
        with Locations(Location((-56.752697684, 110.377959836, 0), (0, 0, 270))):
            Circle(SKETCH1_R, mode=Mode.SUBTRACT)
        with Locations(Location((-56.752697684, 101.377959836, 0), (0, 0, 270))):
            Circle(SKETCH1_R, mode=Mode.SUBTRACT)
        with Locations(Location((-56.752697684, 92.377959836, 0), (0, 0, 270))):
            Circle(SKETCH1_R, mode=Mode.SUBTRACT)
        with Locations(Location((-56.752697684, 83.377959836, 0), (0, 0, 270))):
            Circle(SKETCH1_R, mode=Mode.SUBTRACT)
        with Locations(Location((-56.752697684, 74.377959836, 0), (0, 0, 270))):
            Circle(SKETCH1_R, mode=Mode.SUBTRACT)
    extrude(amount=BOSS_EXTRUDE1_DEPTH)

    # Sketch4 → Cut-Extrude1 (cut, through all)
    with BuildSketch(Plane.XZ):
        with Locations((3.340397506, -51.565459836)):
            Rectangle(SKETCH4_W, SKETCH4_H)
        with Locations((3.340397506, -160.190459836)):
            Rectangle(SKETCH4_W, SKETCH4_H)
    extrude(amount=-CUT_EXTRUDE1_DEPTH, mode=Mode.SUBTRACT)


solid = part.part
